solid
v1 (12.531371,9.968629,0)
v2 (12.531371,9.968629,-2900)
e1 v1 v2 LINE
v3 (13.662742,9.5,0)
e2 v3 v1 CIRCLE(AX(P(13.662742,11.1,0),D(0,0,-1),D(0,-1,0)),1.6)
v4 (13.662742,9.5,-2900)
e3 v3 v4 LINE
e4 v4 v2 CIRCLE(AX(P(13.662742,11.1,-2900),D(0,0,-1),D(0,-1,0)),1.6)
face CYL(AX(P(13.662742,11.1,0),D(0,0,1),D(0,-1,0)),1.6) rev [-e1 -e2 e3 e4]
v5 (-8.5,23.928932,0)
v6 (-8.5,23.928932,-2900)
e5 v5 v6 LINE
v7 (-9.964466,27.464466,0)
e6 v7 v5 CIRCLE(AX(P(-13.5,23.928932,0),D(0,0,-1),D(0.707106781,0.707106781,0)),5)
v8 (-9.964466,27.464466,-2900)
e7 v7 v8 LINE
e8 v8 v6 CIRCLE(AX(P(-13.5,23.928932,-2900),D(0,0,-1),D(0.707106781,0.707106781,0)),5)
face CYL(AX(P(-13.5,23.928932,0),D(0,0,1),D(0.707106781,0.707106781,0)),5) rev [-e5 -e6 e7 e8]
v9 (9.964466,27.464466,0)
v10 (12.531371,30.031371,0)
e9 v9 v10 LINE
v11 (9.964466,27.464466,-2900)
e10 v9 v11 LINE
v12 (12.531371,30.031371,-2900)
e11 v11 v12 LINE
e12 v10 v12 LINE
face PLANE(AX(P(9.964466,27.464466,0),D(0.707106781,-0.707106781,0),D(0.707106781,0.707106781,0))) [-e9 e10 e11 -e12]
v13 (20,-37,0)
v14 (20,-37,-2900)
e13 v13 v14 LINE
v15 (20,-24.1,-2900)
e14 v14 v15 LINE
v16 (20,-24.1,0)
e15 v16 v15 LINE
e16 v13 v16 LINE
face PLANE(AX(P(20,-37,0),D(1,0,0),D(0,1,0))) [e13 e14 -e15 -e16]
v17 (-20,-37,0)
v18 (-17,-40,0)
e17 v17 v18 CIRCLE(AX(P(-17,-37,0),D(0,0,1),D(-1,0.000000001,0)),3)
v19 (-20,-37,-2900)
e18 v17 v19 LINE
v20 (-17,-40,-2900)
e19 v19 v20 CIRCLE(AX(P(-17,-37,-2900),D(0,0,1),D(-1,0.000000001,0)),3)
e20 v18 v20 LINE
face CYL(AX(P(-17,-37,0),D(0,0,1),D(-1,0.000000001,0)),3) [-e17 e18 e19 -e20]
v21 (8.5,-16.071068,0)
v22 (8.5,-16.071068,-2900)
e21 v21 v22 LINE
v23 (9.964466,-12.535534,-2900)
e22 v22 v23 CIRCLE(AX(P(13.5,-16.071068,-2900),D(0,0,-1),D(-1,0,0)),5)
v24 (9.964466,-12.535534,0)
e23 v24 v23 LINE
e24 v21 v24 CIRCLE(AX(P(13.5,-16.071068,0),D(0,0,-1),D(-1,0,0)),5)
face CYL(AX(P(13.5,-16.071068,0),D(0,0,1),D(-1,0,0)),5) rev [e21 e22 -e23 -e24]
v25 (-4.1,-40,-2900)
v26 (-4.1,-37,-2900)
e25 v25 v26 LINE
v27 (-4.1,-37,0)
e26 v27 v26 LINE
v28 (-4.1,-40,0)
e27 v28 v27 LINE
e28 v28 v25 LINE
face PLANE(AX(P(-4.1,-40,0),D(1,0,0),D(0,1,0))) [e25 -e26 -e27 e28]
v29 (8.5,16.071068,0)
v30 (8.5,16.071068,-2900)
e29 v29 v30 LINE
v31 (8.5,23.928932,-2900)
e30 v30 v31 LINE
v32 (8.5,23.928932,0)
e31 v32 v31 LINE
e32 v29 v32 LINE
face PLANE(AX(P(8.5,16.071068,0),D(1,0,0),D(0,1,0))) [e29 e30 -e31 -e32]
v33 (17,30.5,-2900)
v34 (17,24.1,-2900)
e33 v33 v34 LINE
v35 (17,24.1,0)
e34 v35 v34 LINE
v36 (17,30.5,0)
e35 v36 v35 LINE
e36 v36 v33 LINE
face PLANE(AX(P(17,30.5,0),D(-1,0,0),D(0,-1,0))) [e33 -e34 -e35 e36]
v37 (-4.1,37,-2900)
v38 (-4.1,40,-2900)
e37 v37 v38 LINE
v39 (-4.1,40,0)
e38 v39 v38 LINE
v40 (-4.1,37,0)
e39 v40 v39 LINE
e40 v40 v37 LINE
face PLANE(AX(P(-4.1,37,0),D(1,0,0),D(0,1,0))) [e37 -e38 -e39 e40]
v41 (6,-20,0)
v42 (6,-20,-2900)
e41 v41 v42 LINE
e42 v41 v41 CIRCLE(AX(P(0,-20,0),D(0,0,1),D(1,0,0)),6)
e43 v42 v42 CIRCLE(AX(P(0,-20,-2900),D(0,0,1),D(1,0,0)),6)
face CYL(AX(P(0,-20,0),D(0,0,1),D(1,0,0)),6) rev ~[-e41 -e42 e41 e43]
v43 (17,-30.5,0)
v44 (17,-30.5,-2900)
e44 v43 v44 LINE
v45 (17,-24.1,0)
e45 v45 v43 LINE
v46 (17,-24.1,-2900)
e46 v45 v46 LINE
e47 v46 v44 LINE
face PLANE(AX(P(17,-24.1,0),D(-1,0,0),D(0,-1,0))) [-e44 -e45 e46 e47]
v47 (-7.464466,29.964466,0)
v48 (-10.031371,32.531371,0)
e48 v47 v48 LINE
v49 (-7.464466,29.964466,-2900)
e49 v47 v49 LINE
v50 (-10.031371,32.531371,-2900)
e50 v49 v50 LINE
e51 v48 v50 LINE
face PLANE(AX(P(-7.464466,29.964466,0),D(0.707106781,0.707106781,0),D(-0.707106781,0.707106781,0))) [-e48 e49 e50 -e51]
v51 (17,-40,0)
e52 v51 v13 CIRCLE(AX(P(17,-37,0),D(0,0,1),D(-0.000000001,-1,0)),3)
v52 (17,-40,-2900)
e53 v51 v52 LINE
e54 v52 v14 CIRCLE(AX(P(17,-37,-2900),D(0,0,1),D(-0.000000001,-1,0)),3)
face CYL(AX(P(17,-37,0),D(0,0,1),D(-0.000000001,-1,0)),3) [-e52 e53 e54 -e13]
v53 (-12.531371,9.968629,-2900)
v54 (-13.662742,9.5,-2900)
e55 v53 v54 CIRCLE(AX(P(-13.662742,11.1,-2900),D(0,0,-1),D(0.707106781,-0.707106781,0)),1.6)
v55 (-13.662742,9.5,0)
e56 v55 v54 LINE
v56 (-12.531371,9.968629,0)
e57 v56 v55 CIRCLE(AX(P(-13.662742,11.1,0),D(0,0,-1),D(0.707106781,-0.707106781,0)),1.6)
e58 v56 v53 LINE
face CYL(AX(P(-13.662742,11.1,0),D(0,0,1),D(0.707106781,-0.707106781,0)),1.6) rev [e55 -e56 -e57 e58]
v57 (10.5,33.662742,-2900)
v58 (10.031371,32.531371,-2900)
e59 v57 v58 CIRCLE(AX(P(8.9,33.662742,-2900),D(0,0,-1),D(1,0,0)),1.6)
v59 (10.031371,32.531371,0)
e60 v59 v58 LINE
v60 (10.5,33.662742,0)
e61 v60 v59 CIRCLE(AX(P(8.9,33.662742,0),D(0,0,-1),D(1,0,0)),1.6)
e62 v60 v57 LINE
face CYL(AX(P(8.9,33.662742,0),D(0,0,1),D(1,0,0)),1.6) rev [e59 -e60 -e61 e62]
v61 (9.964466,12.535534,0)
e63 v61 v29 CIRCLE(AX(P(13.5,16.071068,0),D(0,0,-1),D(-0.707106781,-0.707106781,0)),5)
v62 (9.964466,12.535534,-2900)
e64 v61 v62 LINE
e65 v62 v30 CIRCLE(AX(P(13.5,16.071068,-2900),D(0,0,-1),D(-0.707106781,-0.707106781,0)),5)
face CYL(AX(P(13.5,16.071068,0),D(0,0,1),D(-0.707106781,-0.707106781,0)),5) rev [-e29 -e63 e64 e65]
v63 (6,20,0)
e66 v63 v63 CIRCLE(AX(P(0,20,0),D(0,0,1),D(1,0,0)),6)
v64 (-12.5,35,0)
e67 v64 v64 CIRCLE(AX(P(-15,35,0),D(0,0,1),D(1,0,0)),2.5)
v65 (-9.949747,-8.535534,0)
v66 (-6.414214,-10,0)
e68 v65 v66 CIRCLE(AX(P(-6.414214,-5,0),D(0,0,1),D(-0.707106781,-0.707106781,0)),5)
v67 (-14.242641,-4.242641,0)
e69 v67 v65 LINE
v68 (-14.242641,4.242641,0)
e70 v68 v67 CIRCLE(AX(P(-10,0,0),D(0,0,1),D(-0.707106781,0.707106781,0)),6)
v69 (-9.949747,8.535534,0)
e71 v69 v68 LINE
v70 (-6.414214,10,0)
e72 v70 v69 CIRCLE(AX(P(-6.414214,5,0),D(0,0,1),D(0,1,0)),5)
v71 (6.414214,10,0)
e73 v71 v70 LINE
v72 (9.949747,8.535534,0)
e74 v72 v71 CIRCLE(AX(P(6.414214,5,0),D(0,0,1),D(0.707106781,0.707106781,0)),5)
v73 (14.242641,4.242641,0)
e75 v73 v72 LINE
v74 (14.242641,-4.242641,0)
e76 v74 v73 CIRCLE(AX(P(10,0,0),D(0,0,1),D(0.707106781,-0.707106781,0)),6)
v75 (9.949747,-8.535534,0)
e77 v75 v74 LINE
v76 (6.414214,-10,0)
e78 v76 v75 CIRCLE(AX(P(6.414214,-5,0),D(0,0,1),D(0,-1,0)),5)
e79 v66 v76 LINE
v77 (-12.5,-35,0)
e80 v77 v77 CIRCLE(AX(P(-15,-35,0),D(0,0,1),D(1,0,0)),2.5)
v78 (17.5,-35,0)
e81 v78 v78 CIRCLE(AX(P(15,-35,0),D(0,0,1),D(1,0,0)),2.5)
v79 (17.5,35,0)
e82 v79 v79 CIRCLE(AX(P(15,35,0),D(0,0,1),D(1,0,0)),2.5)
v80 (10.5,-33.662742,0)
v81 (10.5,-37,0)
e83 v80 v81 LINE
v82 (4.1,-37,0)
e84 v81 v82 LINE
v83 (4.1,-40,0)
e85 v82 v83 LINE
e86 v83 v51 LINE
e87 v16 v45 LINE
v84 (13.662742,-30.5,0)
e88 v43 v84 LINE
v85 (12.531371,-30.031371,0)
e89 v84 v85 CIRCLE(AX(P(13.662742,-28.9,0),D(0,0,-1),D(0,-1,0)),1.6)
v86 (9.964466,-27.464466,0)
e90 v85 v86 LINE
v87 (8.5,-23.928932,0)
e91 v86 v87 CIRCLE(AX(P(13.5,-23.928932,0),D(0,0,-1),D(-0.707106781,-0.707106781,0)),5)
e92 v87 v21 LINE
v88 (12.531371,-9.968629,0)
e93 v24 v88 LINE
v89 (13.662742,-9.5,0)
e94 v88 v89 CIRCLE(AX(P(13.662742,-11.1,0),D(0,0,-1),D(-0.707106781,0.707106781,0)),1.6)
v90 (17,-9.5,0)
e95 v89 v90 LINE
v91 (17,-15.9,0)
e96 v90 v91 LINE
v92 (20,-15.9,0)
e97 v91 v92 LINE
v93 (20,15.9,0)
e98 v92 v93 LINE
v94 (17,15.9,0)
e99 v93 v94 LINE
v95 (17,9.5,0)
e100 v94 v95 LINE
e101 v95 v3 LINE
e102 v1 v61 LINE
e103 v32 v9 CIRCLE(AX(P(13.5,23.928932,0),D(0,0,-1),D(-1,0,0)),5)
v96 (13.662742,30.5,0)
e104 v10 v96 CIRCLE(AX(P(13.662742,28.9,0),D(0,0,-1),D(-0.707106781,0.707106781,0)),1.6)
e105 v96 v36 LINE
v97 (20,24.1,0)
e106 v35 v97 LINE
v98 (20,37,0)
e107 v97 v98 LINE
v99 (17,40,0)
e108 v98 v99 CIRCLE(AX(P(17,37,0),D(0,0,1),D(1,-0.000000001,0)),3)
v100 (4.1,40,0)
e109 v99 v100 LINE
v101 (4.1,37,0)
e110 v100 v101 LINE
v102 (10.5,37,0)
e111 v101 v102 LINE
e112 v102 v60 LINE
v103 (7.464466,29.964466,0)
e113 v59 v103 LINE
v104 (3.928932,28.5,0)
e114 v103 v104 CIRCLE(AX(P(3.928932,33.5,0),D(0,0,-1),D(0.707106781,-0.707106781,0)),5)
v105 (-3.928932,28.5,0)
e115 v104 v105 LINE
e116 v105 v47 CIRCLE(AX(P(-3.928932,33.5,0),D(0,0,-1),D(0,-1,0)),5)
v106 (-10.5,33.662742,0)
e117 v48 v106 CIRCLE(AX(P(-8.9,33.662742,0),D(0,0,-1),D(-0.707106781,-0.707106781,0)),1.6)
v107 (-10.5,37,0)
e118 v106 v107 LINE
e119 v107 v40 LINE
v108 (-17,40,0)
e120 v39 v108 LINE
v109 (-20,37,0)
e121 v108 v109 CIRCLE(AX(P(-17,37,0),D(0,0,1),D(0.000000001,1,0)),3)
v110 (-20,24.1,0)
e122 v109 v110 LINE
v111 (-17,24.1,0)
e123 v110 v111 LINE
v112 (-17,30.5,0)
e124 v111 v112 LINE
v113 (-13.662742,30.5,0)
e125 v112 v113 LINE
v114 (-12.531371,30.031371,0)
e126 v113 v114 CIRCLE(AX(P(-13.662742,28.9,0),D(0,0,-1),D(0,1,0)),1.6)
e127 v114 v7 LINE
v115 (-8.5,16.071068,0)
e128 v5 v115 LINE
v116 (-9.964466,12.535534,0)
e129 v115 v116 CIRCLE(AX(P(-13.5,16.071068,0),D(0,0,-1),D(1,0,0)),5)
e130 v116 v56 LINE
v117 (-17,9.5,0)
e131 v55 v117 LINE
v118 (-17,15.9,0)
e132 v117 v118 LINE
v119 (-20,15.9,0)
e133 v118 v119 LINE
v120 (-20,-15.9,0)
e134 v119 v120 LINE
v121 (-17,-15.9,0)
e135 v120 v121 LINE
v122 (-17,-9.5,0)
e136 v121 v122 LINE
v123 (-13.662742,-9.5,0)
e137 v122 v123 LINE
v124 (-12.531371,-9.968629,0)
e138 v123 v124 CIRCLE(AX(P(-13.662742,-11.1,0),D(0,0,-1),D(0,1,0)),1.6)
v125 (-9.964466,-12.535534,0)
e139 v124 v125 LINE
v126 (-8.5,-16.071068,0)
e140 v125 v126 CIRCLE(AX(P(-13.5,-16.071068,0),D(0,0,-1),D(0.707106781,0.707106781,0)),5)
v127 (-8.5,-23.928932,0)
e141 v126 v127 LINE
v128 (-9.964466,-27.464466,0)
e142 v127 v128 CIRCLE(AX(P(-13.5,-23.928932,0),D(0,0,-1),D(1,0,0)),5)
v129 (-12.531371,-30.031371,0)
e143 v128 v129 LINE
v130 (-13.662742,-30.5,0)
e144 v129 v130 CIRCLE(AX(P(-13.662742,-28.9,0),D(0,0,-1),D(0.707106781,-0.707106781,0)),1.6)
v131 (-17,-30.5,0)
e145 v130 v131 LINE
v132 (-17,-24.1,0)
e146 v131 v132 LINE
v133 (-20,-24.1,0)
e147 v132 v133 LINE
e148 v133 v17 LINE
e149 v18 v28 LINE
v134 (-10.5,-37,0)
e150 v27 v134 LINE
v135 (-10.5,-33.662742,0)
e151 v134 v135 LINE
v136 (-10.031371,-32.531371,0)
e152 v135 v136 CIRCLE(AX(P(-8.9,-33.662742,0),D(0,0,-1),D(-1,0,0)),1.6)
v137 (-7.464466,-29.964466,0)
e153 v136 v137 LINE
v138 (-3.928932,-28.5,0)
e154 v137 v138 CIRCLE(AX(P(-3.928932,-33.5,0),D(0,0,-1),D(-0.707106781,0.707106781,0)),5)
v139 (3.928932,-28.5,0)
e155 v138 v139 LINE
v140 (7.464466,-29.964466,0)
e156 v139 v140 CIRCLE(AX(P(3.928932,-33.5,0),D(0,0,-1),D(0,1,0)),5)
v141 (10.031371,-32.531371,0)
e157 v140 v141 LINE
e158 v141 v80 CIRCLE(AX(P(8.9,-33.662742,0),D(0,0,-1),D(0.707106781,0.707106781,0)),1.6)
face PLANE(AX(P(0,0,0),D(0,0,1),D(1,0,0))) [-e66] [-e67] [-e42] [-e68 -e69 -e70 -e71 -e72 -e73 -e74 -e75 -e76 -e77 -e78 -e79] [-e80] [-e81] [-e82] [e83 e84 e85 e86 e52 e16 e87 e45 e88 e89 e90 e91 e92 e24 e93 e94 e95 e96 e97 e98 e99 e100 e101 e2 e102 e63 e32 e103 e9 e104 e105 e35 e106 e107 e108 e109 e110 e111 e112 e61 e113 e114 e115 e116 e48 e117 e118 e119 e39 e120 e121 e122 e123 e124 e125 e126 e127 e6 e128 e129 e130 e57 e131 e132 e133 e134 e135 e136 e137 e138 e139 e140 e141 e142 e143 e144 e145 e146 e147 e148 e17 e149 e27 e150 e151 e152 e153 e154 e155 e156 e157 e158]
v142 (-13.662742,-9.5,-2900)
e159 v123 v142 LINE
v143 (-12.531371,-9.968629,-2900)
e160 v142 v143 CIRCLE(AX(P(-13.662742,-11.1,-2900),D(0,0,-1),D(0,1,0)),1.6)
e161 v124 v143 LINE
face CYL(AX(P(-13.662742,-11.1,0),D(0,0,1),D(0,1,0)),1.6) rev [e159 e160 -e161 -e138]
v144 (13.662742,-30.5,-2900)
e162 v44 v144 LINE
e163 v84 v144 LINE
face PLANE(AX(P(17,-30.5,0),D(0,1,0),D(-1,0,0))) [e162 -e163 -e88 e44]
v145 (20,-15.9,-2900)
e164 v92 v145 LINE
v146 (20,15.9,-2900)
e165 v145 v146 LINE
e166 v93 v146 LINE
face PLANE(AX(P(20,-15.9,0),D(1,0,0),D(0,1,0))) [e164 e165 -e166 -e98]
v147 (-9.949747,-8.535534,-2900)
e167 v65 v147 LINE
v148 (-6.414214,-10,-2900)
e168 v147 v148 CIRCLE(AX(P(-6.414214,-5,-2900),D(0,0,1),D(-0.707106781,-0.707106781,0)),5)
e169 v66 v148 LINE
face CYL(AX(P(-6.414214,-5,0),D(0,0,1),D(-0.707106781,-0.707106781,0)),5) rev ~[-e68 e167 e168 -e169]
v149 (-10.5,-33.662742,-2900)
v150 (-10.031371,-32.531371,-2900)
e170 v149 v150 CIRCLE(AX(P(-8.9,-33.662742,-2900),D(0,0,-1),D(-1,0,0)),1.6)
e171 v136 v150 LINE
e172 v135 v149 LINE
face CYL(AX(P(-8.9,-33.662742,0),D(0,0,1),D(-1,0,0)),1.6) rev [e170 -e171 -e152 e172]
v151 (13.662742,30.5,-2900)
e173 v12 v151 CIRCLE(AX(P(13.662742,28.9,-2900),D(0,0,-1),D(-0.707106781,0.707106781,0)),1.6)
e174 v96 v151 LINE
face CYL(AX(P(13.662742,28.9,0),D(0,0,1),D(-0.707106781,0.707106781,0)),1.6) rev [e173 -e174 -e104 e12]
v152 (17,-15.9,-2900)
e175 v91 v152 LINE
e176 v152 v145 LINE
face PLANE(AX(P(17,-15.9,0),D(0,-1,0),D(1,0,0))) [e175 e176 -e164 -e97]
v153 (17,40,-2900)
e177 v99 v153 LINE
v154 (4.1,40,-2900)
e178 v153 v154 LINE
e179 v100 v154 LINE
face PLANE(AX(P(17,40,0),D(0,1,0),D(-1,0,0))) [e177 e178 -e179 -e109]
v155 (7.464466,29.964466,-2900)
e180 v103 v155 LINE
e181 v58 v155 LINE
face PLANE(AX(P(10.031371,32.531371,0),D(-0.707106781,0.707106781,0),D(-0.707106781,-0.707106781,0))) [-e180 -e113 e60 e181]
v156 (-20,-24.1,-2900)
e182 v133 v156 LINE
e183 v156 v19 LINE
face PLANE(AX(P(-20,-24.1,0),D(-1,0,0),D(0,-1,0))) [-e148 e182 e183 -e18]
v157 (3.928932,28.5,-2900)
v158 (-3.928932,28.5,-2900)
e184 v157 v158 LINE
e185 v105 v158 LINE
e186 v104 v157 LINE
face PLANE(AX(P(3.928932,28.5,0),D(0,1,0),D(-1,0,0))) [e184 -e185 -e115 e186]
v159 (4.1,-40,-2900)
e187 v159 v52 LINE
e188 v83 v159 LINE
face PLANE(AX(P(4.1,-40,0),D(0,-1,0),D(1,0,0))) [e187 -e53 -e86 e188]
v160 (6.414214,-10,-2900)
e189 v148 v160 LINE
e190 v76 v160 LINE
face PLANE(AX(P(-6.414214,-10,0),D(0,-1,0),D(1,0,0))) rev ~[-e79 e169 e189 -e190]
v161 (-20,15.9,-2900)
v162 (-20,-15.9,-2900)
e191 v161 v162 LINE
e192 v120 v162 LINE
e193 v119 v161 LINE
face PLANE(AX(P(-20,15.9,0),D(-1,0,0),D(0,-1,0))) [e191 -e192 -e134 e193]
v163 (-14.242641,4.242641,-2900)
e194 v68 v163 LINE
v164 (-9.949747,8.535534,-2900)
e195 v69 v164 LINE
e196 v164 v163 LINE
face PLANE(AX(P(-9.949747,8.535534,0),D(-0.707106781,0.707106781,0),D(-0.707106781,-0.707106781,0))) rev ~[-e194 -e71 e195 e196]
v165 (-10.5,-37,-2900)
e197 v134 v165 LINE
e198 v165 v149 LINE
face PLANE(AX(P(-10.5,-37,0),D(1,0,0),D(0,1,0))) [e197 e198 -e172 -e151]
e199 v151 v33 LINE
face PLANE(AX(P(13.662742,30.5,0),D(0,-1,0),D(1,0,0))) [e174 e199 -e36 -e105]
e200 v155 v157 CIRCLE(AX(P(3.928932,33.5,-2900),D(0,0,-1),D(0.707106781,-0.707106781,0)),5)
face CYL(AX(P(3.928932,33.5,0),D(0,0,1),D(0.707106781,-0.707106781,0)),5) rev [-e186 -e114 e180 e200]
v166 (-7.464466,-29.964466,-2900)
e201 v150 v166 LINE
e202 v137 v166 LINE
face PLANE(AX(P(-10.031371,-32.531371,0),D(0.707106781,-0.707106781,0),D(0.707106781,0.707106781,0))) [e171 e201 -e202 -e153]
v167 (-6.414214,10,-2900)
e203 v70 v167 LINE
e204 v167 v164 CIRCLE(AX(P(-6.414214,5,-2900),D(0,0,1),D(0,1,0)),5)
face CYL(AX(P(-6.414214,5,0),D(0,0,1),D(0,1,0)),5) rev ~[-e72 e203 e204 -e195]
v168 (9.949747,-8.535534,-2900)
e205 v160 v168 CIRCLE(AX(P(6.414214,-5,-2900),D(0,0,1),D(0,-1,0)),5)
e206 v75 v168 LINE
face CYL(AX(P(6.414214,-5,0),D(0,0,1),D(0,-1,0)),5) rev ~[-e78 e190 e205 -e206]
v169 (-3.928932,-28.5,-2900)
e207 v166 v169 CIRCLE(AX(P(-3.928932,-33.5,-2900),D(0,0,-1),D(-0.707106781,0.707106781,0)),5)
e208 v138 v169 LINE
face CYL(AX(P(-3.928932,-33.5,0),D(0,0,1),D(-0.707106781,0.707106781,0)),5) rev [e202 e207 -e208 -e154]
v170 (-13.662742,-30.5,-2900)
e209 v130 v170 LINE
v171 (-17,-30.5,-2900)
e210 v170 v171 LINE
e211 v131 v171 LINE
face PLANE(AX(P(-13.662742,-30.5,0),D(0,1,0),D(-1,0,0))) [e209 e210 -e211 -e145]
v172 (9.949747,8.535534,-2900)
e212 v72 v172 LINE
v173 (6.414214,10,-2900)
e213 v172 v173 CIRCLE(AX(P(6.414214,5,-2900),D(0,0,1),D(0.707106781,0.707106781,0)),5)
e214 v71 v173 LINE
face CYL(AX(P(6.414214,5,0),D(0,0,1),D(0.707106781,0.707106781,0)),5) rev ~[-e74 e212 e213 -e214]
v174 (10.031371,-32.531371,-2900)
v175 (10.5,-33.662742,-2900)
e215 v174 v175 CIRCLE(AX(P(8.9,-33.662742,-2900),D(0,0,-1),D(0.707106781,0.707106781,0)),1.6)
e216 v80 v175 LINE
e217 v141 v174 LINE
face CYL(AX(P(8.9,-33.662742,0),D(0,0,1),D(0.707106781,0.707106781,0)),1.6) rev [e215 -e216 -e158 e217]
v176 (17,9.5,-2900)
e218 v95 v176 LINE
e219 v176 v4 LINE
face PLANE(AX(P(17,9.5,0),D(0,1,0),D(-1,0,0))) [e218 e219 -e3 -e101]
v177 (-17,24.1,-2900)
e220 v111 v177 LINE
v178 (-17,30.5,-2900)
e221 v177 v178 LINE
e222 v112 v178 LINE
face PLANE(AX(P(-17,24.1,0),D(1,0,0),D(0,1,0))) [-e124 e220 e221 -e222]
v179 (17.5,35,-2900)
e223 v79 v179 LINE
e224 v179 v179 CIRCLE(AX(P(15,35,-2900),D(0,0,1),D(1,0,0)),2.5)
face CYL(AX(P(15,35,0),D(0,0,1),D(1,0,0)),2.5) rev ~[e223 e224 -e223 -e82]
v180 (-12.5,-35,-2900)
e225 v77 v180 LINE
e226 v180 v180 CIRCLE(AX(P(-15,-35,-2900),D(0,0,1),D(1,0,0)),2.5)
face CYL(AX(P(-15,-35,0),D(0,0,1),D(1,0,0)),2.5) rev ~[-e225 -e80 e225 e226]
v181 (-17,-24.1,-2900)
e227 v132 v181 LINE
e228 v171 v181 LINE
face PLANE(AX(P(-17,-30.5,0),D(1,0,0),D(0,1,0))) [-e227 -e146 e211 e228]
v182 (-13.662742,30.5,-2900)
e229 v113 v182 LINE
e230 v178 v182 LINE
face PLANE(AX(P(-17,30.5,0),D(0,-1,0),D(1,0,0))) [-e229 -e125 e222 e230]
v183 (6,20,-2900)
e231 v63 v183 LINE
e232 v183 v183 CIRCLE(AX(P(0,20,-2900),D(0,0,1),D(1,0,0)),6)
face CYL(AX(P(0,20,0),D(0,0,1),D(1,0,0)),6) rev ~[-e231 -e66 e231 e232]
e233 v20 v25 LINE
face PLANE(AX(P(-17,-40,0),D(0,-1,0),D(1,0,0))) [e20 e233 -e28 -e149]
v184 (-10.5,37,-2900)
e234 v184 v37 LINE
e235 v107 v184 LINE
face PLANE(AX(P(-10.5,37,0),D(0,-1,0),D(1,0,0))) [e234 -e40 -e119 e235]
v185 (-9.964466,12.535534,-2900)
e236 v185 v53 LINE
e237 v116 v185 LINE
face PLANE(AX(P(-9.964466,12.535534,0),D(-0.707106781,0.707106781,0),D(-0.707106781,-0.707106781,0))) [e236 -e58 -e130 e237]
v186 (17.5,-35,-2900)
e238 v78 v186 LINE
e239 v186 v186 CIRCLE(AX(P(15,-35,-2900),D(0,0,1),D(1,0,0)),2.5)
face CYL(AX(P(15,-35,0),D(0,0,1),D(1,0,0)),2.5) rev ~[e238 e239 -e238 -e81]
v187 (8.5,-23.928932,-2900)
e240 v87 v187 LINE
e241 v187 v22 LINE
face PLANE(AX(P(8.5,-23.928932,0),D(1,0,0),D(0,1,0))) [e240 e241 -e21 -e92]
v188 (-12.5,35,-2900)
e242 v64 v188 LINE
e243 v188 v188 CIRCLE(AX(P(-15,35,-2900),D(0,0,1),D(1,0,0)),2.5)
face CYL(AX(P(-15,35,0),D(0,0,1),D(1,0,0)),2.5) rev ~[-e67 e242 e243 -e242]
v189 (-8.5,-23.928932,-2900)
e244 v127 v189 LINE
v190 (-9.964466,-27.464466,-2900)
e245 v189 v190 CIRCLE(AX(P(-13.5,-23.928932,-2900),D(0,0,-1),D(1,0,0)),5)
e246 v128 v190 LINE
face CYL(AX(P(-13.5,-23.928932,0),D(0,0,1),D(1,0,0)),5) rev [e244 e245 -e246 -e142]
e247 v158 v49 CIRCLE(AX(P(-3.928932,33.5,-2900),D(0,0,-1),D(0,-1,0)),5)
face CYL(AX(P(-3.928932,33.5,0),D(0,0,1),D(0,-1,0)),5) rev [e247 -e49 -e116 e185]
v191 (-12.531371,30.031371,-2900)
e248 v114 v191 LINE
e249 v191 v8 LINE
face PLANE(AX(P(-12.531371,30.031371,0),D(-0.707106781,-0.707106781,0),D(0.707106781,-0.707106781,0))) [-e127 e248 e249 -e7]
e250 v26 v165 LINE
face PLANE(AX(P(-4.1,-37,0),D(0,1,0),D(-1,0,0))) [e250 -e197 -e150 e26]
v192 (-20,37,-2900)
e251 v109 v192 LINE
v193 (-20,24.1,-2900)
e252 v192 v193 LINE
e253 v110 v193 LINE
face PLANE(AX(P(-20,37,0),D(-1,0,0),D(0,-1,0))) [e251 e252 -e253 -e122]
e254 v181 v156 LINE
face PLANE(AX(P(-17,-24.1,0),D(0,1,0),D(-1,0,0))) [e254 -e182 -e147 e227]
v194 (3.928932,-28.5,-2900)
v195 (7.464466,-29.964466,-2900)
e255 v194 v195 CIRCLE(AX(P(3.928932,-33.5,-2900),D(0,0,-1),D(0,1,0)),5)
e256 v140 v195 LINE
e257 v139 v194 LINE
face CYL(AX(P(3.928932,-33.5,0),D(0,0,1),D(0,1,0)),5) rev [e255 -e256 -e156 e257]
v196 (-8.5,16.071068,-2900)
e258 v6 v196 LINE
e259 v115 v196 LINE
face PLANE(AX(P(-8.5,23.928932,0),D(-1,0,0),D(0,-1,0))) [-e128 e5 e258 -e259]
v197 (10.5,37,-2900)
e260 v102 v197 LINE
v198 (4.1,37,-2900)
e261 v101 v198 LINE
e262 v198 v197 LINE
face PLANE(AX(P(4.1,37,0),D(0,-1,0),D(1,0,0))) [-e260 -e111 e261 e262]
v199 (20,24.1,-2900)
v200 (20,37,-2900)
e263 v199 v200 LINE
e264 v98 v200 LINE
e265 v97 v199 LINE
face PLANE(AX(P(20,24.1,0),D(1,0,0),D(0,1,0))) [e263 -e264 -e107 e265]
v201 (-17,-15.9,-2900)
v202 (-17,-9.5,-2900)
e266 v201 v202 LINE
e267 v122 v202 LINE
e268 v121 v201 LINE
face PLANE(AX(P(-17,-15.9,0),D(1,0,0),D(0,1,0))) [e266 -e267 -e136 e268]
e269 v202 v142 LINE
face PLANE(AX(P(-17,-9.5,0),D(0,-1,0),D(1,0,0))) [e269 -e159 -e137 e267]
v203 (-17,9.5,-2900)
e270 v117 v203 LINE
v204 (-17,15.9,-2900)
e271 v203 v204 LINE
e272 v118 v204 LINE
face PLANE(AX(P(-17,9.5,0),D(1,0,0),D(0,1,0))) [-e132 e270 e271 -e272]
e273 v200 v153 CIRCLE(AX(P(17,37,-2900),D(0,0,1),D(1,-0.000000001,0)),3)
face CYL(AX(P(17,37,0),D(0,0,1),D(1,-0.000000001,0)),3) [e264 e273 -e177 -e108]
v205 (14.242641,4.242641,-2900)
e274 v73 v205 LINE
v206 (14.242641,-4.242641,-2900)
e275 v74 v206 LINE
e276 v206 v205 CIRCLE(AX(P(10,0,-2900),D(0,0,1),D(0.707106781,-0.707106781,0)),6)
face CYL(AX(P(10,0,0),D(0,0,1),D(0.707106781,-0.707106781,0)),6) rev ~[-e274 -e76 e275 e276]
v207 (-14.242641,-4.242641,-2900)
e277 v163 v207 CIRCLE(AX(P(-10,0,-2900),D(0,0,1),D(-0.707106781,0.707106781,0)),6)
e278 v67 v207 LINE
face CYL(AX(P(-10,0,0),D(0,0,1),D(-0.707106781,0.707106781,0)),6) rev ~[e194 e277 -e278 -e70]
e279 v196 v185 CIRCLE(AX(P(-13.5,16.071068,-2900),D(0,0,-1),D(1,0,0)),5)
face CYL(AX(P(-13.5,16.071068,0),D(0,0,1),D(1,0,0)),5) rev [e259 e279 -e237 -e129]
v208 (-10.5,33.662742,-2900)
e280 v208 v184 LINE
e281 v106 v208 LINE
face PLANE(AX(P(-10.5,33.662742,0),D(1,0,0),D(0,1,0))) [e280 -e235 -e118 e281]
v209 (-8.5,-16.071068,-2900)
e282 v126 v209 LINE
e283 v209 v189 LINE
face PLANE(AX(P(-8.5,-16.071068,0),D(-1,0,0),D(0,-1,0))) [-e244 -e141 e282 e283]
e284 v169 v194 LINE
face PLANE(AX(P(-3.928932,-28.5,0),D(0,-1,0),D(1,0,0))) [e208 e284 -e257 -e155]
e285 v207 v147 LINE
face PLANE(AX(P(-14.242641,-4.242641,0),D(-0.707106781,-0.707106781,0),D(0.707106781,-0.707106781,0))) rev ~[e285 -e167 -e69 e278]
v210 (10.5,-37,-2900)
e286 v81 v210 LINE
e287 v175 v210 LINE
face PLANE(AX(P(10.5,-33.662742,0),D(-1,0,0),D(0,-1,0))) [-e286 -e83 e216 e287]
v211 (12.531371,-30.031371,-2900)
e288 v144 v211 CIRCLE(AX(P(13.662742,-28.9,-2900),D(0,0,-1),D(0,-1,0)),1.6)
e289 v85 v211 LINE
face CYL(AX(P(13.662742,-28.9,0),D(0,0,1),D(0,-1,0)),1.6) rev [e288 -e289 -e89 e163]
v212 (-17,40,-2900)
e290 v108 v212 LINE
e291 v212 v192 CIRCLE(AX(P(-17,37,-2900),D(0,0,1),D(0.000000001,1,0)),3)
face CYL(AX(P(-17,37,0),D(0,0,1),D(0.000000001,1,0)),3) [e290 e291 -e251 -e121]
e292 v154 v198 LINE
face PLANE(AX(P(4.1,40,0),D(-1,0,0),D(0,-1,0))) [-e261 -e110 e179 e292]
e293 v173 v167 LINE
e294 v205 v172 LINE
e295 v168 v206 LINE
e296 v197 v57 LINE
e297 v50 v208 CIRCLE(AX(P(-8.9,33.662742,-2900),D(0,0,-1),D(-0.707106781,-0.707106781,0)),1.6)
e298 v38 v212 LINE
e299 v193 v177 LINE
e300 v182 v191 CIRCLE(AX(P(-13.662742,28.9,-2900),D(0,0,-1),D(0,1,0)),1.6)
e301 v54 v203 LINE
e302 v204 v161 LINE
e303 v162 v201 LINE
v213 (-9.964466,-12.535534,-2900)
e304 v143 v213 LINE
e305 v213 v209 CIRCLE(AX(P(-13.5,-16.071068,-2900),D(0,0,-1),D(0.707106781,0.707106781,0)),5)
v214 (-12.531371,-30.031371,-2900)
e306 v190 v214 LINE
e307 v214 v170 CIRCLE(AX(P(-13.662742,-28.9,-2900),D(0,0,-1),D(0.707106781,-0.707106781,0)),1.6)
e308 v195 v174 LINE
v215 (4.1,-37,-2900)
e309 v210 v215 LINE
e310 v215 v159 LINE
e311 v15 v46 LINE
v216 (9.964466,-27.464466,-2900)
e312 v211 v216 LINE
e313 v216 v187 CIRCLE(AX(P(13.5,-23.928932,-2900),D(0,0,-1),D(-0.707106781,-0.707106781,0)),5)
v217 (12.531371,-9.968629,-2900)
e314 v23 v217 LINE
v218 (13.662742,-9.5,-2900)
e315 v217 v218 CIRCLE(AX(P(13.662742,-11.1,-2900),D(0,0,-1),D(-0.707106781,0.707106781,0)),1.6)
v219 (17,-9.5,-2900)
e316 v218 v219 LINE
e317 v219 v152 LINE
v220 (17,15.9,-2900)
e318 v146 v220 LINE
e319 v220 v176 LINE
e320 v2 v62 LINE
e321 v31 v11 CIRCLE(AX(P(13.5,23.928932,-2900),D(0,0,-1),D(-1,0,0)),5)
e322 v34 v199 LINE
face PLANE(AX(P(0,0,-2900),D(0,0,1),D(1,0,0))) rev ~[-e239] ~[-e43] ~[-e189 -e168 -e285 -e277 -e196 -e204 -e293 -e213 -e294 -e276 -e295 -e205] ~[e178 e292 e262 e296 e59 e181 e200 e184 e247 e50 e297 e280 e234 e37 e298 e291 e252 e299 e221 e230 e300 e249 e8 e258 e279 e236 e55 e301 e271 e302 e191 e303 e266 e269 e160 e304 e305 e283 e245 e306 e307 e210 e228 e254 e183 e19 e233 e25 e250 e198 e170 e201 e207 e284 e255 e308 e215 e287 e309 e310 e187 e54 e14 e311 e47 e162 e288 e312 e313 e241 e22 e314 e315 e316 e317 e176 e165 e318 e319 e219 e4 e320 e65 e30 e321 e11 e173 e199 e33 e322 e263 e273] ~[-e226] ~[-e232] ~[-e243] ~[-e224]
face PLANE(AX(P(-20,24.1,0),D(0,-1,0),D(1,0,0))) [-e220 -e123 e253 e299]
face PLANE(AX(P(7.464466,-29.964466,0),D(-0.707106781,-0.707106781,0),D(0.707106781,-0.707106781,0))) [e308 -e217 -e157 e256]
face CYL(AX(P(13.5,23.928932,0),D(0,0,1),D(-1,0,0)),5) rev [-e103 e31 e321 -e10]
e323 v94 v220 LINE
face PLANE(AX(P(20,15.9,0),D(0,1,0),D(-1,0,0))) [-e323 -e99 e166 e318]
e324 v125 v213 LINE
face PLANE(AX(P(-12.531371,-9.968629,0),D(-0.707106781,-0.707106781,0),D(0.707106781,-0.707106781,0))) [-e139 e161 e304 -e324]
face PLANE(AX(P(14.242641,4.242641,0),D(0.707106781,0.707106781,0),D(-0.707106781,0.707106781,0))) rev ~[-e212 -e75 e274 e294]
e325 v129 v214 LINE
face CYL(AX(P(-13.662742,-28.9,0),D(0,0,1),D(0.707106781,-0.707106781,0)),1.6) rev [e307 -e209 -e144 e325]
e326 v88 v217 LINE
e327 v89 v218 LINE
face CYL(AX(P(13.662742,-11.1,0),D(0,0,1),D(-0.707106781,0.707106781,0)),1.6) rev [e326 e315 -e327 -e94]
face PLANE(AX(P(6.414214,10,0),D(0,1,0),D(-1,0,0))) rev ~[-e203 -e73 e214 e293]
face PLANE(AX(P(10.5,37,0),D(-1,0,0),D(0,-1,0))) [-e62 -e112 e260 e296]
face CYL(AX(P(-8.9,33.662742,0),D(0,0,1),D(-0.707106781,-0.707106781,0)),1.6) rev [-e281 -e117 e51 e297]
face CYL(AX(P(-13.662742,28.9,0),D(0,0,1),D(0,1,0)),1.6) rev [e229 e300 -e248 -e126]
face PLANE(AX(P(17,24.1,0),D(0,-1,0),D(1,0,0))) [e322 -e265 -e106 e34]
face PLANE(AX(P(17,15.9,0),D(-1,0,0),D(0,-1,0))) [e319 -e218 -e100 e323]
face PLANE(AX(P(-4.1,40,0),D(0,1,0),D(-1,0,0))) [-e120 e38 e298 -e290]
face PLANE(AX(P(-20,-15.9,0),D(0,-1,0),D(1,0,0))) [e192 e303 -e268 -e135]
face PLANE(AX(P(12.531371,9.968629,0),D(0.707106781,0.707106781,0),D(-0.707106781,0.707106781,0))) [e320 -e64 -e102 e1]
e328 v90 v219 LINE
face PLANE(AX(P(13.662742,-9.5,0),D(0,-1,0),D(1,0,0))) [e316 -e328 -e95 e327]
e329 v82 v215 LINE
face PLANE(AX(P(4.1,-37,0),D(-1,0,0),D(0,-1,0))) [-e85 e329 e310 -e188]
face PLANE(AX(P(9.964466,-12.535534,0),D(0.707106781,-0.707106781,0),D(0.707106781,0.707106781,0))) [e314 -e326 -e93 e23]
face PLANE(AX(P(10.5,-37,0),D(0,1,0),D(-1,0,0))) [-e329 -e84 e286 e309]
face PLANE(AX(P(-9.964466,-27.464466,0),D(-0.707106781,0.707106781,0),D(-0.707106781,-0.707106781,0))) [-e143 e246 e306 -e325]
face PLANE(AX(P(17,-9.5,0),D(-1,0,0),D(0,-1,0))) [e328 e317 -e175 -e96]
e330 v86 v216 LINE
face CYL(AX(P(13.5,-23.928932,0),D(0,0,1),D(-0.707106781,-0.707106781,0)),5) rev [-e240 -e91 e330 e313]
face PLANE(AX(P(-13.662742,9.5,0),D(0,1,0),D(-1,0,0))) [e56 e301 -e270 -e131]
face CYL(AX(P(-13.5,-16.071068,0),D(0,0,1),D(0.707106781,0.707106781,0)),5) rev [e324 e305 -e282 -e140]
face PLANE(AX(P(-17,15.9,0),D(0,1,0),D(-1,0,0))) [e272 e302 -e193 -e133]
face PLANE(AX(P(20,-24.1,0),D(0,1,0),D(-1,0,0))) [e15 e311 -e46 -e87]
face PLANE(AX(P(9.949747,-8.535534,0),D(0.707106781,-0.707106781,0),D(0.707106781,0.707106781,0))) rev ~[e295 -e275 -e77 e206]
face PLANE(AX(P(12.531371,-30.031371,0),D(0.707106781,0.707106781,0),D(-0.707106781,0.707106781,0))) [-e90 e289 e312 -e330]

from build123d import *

# Parameters (mm, degrees)
SKETCH1_R           = 2.5
SKETCH1_R_2         = 6
BOSS_EXTRUDE1_DEPTH = 2900


with BuildPart() as part:
    # Sketch1 → Boss-Extrude1 (new body)
    with BuildSketch(Plane.XY):
        with BuildLine():
            Line((-17, -40), (-4.1, -40))
            Line((-4.1, -40), (-4.1, -37))
            Line((-4.1, -37), (-10.5, -37))
            Line((-10.5, -37), (-10.5, -33.6627417))
            ThreePointArc((-10.5, -33.6627417), (-10.378207252, -33.050448208), (-10.03137085, -32.53137085))
            Line((-10.03137085, -32.53137085), (-7.464466094, -29.964466094))
            ThreePointArc((-7.464466094, -29.964466094), (-5.84234935, -28.880602337), (-3.928932188, -28.5))
            Line((-3.928932188, -28.5), (3.928932188, -28.5))
            ThreePointArc((3.928932188, -28.5), (5.84234935, -28.880602337), (7.464466094, -29.964466094))
            Line((7.464466094, -29.964466094), (10.03137085, -32.53137085))
            ThreePointArc((10.03137085, -32.53137085), (10.378207252, -33.050448208), (10.5, -33.6627417))
            Line((10.5, -33.6627417), (10.5, -37))
            Line((10.5, -37), (4.1, -37))
            Line((4.1, -37), (4.1, -40))
            Line((4.1, -40), (17, -40))
            ThreePointArc((17, -40), (19.121320344, -39.121320344), (20, -37))
            Line((20, -37), (20, -24.1))
            Line((20, -24.1), (17, -24.1))
            Line((17, -24.1), (17, -30.5))
            Line((17, -30.5), (13.6627417, -30.5))
            ThreePointArc((13.6627417, -30.5), (13.050448208, -30.378207252), (12.53137085, -30.03137085))
            Line((12.53137085, -30.03137085), (9.964466094, -27.464466094))
            ThreePointArc((9.964466094, -27.464466094), (8.880602337, -25.84234935), (8.5, -23.928932188))
            Line((8.5, -23.928932188), (8.5, -16.071067812))
            ThreePointArc((8.5, -16.071067812), (8.880602337, -14.15765065), (9.964466094, -12.535533906))
            Line((9.964466094, -12.535533906), (12.53137085, -9.96862915))
            ThreePointArc((12.53137085, -9.96862915), (13.050448208, -9.621792748), (13.6627417, -9.5))
            Line((13.6627417, -9.5), (17, -9.5))
            Line((17, -9.5), (17, -15.9))
            Line((17, -15.9), (20, -15.9))
            Line((20, -15.9), (20, 15.9))
            Line((20, 15.9), (17, 15.9))
            Line((17, 15.9), (17, 9.5))
            Line((17, 9.5), (13.6627417, 9.5))
            ThreePointArc((13.6627417, 9.5), (13.050448208, 9.621792748), (12.53137085, 9.96862915))
            Line((12.53137085, 9.96862915), (9.964466094, 12.535533906))
            ThreePointArc((9.964466094, 12.535533906), (8.880602337, 14.15765065), (8.5, 16.071067812))
            Line((8.5, 16.071067812), (8.5, 23.928932188))
            ThreePointArc((8.5, 23.928932188), (8.880602337, 25.84234935), (9.964466094, 27.464466094))
            Line((9.964466094, 27.464466094), (12.53137085, 30.03137085))
            ThreePointArc((12.53137085, 30.03137085), (13.050448208, 30.378207252), (13.6627417, 30.5))
            Line((13.6627417, 30.5), (17, 30.5))
            Line((17, 30.5), (17, 24.1))
            Line((17, 24.1), (20, 24.1))
            Line((20, 24.1), (20, 37))
            ThreePointArc((20, 37), (19.121320344, 39.121320344), (17, 40))
            Line((17, 40), (4.1, 40))
            Line((4.1, 40), (4.1, 37))
            Line((4.1, 37), (10.5, 37))
            Line((10.5, 37), (10.5, 33.6627417))
            ThreePointArc((10.5, 33.6627417), (10.378207252, 33.050448208), (10.03137085, 32.53137085))
            Line((10.03137085, 32.53137085), (7.464466094, 29.964466094))
            ThreePointArc((7.464466094, 29.964466094), (5.84234935, 28.880602337), (3.928932188, 28.5))
            Line((3.928932188, 28.5), (-3.928932188, 28.5))
            ThreePointArc((-3.928932188, 28.5), (-5.84234935, 28.880602337), (-7.464466094, 29.964466094))
            Line((-7.464466094, 29.964466094), (-10.03137085, 32.53137085))
            ThreePointArc((-10.03137085, 32.53137085), (-10.378207252, 33.050448208), (-10.5, 33.6627417))
            Line((-10.5, 33.6627417), (-10.5, 37))
            Line((-10.5, 37), (-4.1, 37))
            Line((-4.1, 37), (-4.1, 40))
            Line((-4.1, 40), (-17, 40))
            ThreePointArc((-17, 40), (-19.121320344, 39.121320344), (-20, 37))
            Line((-20, 37), (-20, 24.1))
            Line((-20, 24.1), (-17, 24.1))
            Line((-17, 24.1), (-17, 30.5))
            Line((-17, 30.5), (-13.6627417, 30.5))
            ThreePointArc((-13.6627417, 30.5), (-13.050448208, 30.378207252), (-12.53137085, 30.03137085))
            Line((-12.53137085, 30.03137085), (-9.964466094, 27.464466094))
            ThreePointArc((-9.964466094, 27.464466094), (-8.880602337, 25.84234935), (-8.5, 23.928932188))
            Line((-8.5, 23.928932188), (-8.5, 16.071067812))
            ThreePointArc((-8.5, 16.071067812), (-8.880602337, 14.15765065), (-9.964466094, 12.535533906))
            Line((-9.964466094, 12.535533906), (-12.53137085, 9.96862915))
            ThreePointArc((-12.53137085, 9.96862915), (-13.050448208, 9.621792748), (-13.6627417, 9.5))
            Line((-13.6627417, 9.5), (-17, 9.5))
            Line((-17, 9.5), (-17, 15.9))
            Line((-17, 15.9), (-20, 15.9))
            Line((-20, 15.9), (-20, -15.9))
            Line((-20, -15.9), (-17, -15.9))
            Line((-17, -15.9), (-17, -9.5))
            Line((-17, -9.5), (-13.6627417, -9.5))
            ThreePointArc((-13.6627417, -9.5), (-13.050448208, -9.621792748), (-12.53137085, -9.96862915))
            Line((-12.53137085, -9.96862915), (-9.964466094, -12.535533906))
            ThreePointArc((-9.964466094, -12.535533906), (-8.880602337, -14.15765065), (-8.5, -16.071067812))
            Line((-8.5, -16.071067812), (-8.5, -23.928932188))
            ThreePointArc((-8.5, -23.928932188), (-8.880602337, -25.84234935), (-9.964466094, -27.464466094))
            Line((-9.964466094, -27.464466094), (-12.53137085, -30.03137085))
            ThreePointArc((-12.53137085, -30.03137085), (-13.050448208, -30.378207252), (-13.6627417, -30.5))
            Line((-13.6627417, -30.5), (-17, -30.5))
            Line((-17, -30.5), (-17, -24.1))
            Line((-17, -24.1), (-20, -24.1))
            Line((-20, -24.1), (-20, -37))
            ThreePointArc((-20, -37), (-19.121320344, -39.121320344), (-17, -40))
        make_face()
        with Locations((15, 35)):
            Circle(SKETCH1_R, mode=Mode.SUBTRACT)
        with Locations((15, -35)):
            Circle(SKETCH1_R, mode=Mode.SUBTRACT)
        with Locations((0, 20)):
            Circle(SKETCH1_R_2, mode=Mode.SUBTRACT)
        with Locations((0, -20)):
            Circle(SKETCH1_R_2, mode=Mode.SUBTRACT)
        with Locations((-15, 35)):
            Circle(SKETCH1_R, mode=Mode.SUBTRACT)
        with Locations((-15, -35)):
            Circle(SKETCH1_R, mode=Mode.SUBTRACT)
        with BuildLine():
            Line((-14.242640687, -4.242640687), (-9.949747468, -8.535533906))
            ThreePointArc((-9.949747468, -8.535533906), (-8.327630724, -9.619397663), (-6.414213562, -10))
            Line((-6.414213562, -10), (6.414213562, -10))
            ThreePointArc((6.414213562, -10), (8.327630724, -9.619397663), (9.949747468, -8.535533906))
            Line((9.949747468, -8.535533906), (14.242640687, -4.242640687))
            ThreePointArc((14.242640687, -4.242640687), (16, 0), (14.242640687, 4.242640687))
            Line((14.242640687, 4.242640687), (9.949747468, 8.535533906))
            ThreePointArc((9.949747468, 8.535533906), (8.327630724, 9.619397663), (6.414213562, 10))
            Line((6.414213562, 10), (-6.414213562, 10))
            ThreePointArc((-6.414213562, 10), (-8.327630724, 9.619397663), (-9.949747468, 8.535533906))
            Line((-9.949747468, 8.535533906), (-14.242640687, 4.242640687))
            ThreePointArc((-14.242640687, 4.242640687), (-16, 0), (-14.242640687, -4.242640687))
        make_face(mode=Mode.SUBTRACT)
    extrude(amount=-BOSS_EXTRUDE1_DEPTH)


solid = part.part
